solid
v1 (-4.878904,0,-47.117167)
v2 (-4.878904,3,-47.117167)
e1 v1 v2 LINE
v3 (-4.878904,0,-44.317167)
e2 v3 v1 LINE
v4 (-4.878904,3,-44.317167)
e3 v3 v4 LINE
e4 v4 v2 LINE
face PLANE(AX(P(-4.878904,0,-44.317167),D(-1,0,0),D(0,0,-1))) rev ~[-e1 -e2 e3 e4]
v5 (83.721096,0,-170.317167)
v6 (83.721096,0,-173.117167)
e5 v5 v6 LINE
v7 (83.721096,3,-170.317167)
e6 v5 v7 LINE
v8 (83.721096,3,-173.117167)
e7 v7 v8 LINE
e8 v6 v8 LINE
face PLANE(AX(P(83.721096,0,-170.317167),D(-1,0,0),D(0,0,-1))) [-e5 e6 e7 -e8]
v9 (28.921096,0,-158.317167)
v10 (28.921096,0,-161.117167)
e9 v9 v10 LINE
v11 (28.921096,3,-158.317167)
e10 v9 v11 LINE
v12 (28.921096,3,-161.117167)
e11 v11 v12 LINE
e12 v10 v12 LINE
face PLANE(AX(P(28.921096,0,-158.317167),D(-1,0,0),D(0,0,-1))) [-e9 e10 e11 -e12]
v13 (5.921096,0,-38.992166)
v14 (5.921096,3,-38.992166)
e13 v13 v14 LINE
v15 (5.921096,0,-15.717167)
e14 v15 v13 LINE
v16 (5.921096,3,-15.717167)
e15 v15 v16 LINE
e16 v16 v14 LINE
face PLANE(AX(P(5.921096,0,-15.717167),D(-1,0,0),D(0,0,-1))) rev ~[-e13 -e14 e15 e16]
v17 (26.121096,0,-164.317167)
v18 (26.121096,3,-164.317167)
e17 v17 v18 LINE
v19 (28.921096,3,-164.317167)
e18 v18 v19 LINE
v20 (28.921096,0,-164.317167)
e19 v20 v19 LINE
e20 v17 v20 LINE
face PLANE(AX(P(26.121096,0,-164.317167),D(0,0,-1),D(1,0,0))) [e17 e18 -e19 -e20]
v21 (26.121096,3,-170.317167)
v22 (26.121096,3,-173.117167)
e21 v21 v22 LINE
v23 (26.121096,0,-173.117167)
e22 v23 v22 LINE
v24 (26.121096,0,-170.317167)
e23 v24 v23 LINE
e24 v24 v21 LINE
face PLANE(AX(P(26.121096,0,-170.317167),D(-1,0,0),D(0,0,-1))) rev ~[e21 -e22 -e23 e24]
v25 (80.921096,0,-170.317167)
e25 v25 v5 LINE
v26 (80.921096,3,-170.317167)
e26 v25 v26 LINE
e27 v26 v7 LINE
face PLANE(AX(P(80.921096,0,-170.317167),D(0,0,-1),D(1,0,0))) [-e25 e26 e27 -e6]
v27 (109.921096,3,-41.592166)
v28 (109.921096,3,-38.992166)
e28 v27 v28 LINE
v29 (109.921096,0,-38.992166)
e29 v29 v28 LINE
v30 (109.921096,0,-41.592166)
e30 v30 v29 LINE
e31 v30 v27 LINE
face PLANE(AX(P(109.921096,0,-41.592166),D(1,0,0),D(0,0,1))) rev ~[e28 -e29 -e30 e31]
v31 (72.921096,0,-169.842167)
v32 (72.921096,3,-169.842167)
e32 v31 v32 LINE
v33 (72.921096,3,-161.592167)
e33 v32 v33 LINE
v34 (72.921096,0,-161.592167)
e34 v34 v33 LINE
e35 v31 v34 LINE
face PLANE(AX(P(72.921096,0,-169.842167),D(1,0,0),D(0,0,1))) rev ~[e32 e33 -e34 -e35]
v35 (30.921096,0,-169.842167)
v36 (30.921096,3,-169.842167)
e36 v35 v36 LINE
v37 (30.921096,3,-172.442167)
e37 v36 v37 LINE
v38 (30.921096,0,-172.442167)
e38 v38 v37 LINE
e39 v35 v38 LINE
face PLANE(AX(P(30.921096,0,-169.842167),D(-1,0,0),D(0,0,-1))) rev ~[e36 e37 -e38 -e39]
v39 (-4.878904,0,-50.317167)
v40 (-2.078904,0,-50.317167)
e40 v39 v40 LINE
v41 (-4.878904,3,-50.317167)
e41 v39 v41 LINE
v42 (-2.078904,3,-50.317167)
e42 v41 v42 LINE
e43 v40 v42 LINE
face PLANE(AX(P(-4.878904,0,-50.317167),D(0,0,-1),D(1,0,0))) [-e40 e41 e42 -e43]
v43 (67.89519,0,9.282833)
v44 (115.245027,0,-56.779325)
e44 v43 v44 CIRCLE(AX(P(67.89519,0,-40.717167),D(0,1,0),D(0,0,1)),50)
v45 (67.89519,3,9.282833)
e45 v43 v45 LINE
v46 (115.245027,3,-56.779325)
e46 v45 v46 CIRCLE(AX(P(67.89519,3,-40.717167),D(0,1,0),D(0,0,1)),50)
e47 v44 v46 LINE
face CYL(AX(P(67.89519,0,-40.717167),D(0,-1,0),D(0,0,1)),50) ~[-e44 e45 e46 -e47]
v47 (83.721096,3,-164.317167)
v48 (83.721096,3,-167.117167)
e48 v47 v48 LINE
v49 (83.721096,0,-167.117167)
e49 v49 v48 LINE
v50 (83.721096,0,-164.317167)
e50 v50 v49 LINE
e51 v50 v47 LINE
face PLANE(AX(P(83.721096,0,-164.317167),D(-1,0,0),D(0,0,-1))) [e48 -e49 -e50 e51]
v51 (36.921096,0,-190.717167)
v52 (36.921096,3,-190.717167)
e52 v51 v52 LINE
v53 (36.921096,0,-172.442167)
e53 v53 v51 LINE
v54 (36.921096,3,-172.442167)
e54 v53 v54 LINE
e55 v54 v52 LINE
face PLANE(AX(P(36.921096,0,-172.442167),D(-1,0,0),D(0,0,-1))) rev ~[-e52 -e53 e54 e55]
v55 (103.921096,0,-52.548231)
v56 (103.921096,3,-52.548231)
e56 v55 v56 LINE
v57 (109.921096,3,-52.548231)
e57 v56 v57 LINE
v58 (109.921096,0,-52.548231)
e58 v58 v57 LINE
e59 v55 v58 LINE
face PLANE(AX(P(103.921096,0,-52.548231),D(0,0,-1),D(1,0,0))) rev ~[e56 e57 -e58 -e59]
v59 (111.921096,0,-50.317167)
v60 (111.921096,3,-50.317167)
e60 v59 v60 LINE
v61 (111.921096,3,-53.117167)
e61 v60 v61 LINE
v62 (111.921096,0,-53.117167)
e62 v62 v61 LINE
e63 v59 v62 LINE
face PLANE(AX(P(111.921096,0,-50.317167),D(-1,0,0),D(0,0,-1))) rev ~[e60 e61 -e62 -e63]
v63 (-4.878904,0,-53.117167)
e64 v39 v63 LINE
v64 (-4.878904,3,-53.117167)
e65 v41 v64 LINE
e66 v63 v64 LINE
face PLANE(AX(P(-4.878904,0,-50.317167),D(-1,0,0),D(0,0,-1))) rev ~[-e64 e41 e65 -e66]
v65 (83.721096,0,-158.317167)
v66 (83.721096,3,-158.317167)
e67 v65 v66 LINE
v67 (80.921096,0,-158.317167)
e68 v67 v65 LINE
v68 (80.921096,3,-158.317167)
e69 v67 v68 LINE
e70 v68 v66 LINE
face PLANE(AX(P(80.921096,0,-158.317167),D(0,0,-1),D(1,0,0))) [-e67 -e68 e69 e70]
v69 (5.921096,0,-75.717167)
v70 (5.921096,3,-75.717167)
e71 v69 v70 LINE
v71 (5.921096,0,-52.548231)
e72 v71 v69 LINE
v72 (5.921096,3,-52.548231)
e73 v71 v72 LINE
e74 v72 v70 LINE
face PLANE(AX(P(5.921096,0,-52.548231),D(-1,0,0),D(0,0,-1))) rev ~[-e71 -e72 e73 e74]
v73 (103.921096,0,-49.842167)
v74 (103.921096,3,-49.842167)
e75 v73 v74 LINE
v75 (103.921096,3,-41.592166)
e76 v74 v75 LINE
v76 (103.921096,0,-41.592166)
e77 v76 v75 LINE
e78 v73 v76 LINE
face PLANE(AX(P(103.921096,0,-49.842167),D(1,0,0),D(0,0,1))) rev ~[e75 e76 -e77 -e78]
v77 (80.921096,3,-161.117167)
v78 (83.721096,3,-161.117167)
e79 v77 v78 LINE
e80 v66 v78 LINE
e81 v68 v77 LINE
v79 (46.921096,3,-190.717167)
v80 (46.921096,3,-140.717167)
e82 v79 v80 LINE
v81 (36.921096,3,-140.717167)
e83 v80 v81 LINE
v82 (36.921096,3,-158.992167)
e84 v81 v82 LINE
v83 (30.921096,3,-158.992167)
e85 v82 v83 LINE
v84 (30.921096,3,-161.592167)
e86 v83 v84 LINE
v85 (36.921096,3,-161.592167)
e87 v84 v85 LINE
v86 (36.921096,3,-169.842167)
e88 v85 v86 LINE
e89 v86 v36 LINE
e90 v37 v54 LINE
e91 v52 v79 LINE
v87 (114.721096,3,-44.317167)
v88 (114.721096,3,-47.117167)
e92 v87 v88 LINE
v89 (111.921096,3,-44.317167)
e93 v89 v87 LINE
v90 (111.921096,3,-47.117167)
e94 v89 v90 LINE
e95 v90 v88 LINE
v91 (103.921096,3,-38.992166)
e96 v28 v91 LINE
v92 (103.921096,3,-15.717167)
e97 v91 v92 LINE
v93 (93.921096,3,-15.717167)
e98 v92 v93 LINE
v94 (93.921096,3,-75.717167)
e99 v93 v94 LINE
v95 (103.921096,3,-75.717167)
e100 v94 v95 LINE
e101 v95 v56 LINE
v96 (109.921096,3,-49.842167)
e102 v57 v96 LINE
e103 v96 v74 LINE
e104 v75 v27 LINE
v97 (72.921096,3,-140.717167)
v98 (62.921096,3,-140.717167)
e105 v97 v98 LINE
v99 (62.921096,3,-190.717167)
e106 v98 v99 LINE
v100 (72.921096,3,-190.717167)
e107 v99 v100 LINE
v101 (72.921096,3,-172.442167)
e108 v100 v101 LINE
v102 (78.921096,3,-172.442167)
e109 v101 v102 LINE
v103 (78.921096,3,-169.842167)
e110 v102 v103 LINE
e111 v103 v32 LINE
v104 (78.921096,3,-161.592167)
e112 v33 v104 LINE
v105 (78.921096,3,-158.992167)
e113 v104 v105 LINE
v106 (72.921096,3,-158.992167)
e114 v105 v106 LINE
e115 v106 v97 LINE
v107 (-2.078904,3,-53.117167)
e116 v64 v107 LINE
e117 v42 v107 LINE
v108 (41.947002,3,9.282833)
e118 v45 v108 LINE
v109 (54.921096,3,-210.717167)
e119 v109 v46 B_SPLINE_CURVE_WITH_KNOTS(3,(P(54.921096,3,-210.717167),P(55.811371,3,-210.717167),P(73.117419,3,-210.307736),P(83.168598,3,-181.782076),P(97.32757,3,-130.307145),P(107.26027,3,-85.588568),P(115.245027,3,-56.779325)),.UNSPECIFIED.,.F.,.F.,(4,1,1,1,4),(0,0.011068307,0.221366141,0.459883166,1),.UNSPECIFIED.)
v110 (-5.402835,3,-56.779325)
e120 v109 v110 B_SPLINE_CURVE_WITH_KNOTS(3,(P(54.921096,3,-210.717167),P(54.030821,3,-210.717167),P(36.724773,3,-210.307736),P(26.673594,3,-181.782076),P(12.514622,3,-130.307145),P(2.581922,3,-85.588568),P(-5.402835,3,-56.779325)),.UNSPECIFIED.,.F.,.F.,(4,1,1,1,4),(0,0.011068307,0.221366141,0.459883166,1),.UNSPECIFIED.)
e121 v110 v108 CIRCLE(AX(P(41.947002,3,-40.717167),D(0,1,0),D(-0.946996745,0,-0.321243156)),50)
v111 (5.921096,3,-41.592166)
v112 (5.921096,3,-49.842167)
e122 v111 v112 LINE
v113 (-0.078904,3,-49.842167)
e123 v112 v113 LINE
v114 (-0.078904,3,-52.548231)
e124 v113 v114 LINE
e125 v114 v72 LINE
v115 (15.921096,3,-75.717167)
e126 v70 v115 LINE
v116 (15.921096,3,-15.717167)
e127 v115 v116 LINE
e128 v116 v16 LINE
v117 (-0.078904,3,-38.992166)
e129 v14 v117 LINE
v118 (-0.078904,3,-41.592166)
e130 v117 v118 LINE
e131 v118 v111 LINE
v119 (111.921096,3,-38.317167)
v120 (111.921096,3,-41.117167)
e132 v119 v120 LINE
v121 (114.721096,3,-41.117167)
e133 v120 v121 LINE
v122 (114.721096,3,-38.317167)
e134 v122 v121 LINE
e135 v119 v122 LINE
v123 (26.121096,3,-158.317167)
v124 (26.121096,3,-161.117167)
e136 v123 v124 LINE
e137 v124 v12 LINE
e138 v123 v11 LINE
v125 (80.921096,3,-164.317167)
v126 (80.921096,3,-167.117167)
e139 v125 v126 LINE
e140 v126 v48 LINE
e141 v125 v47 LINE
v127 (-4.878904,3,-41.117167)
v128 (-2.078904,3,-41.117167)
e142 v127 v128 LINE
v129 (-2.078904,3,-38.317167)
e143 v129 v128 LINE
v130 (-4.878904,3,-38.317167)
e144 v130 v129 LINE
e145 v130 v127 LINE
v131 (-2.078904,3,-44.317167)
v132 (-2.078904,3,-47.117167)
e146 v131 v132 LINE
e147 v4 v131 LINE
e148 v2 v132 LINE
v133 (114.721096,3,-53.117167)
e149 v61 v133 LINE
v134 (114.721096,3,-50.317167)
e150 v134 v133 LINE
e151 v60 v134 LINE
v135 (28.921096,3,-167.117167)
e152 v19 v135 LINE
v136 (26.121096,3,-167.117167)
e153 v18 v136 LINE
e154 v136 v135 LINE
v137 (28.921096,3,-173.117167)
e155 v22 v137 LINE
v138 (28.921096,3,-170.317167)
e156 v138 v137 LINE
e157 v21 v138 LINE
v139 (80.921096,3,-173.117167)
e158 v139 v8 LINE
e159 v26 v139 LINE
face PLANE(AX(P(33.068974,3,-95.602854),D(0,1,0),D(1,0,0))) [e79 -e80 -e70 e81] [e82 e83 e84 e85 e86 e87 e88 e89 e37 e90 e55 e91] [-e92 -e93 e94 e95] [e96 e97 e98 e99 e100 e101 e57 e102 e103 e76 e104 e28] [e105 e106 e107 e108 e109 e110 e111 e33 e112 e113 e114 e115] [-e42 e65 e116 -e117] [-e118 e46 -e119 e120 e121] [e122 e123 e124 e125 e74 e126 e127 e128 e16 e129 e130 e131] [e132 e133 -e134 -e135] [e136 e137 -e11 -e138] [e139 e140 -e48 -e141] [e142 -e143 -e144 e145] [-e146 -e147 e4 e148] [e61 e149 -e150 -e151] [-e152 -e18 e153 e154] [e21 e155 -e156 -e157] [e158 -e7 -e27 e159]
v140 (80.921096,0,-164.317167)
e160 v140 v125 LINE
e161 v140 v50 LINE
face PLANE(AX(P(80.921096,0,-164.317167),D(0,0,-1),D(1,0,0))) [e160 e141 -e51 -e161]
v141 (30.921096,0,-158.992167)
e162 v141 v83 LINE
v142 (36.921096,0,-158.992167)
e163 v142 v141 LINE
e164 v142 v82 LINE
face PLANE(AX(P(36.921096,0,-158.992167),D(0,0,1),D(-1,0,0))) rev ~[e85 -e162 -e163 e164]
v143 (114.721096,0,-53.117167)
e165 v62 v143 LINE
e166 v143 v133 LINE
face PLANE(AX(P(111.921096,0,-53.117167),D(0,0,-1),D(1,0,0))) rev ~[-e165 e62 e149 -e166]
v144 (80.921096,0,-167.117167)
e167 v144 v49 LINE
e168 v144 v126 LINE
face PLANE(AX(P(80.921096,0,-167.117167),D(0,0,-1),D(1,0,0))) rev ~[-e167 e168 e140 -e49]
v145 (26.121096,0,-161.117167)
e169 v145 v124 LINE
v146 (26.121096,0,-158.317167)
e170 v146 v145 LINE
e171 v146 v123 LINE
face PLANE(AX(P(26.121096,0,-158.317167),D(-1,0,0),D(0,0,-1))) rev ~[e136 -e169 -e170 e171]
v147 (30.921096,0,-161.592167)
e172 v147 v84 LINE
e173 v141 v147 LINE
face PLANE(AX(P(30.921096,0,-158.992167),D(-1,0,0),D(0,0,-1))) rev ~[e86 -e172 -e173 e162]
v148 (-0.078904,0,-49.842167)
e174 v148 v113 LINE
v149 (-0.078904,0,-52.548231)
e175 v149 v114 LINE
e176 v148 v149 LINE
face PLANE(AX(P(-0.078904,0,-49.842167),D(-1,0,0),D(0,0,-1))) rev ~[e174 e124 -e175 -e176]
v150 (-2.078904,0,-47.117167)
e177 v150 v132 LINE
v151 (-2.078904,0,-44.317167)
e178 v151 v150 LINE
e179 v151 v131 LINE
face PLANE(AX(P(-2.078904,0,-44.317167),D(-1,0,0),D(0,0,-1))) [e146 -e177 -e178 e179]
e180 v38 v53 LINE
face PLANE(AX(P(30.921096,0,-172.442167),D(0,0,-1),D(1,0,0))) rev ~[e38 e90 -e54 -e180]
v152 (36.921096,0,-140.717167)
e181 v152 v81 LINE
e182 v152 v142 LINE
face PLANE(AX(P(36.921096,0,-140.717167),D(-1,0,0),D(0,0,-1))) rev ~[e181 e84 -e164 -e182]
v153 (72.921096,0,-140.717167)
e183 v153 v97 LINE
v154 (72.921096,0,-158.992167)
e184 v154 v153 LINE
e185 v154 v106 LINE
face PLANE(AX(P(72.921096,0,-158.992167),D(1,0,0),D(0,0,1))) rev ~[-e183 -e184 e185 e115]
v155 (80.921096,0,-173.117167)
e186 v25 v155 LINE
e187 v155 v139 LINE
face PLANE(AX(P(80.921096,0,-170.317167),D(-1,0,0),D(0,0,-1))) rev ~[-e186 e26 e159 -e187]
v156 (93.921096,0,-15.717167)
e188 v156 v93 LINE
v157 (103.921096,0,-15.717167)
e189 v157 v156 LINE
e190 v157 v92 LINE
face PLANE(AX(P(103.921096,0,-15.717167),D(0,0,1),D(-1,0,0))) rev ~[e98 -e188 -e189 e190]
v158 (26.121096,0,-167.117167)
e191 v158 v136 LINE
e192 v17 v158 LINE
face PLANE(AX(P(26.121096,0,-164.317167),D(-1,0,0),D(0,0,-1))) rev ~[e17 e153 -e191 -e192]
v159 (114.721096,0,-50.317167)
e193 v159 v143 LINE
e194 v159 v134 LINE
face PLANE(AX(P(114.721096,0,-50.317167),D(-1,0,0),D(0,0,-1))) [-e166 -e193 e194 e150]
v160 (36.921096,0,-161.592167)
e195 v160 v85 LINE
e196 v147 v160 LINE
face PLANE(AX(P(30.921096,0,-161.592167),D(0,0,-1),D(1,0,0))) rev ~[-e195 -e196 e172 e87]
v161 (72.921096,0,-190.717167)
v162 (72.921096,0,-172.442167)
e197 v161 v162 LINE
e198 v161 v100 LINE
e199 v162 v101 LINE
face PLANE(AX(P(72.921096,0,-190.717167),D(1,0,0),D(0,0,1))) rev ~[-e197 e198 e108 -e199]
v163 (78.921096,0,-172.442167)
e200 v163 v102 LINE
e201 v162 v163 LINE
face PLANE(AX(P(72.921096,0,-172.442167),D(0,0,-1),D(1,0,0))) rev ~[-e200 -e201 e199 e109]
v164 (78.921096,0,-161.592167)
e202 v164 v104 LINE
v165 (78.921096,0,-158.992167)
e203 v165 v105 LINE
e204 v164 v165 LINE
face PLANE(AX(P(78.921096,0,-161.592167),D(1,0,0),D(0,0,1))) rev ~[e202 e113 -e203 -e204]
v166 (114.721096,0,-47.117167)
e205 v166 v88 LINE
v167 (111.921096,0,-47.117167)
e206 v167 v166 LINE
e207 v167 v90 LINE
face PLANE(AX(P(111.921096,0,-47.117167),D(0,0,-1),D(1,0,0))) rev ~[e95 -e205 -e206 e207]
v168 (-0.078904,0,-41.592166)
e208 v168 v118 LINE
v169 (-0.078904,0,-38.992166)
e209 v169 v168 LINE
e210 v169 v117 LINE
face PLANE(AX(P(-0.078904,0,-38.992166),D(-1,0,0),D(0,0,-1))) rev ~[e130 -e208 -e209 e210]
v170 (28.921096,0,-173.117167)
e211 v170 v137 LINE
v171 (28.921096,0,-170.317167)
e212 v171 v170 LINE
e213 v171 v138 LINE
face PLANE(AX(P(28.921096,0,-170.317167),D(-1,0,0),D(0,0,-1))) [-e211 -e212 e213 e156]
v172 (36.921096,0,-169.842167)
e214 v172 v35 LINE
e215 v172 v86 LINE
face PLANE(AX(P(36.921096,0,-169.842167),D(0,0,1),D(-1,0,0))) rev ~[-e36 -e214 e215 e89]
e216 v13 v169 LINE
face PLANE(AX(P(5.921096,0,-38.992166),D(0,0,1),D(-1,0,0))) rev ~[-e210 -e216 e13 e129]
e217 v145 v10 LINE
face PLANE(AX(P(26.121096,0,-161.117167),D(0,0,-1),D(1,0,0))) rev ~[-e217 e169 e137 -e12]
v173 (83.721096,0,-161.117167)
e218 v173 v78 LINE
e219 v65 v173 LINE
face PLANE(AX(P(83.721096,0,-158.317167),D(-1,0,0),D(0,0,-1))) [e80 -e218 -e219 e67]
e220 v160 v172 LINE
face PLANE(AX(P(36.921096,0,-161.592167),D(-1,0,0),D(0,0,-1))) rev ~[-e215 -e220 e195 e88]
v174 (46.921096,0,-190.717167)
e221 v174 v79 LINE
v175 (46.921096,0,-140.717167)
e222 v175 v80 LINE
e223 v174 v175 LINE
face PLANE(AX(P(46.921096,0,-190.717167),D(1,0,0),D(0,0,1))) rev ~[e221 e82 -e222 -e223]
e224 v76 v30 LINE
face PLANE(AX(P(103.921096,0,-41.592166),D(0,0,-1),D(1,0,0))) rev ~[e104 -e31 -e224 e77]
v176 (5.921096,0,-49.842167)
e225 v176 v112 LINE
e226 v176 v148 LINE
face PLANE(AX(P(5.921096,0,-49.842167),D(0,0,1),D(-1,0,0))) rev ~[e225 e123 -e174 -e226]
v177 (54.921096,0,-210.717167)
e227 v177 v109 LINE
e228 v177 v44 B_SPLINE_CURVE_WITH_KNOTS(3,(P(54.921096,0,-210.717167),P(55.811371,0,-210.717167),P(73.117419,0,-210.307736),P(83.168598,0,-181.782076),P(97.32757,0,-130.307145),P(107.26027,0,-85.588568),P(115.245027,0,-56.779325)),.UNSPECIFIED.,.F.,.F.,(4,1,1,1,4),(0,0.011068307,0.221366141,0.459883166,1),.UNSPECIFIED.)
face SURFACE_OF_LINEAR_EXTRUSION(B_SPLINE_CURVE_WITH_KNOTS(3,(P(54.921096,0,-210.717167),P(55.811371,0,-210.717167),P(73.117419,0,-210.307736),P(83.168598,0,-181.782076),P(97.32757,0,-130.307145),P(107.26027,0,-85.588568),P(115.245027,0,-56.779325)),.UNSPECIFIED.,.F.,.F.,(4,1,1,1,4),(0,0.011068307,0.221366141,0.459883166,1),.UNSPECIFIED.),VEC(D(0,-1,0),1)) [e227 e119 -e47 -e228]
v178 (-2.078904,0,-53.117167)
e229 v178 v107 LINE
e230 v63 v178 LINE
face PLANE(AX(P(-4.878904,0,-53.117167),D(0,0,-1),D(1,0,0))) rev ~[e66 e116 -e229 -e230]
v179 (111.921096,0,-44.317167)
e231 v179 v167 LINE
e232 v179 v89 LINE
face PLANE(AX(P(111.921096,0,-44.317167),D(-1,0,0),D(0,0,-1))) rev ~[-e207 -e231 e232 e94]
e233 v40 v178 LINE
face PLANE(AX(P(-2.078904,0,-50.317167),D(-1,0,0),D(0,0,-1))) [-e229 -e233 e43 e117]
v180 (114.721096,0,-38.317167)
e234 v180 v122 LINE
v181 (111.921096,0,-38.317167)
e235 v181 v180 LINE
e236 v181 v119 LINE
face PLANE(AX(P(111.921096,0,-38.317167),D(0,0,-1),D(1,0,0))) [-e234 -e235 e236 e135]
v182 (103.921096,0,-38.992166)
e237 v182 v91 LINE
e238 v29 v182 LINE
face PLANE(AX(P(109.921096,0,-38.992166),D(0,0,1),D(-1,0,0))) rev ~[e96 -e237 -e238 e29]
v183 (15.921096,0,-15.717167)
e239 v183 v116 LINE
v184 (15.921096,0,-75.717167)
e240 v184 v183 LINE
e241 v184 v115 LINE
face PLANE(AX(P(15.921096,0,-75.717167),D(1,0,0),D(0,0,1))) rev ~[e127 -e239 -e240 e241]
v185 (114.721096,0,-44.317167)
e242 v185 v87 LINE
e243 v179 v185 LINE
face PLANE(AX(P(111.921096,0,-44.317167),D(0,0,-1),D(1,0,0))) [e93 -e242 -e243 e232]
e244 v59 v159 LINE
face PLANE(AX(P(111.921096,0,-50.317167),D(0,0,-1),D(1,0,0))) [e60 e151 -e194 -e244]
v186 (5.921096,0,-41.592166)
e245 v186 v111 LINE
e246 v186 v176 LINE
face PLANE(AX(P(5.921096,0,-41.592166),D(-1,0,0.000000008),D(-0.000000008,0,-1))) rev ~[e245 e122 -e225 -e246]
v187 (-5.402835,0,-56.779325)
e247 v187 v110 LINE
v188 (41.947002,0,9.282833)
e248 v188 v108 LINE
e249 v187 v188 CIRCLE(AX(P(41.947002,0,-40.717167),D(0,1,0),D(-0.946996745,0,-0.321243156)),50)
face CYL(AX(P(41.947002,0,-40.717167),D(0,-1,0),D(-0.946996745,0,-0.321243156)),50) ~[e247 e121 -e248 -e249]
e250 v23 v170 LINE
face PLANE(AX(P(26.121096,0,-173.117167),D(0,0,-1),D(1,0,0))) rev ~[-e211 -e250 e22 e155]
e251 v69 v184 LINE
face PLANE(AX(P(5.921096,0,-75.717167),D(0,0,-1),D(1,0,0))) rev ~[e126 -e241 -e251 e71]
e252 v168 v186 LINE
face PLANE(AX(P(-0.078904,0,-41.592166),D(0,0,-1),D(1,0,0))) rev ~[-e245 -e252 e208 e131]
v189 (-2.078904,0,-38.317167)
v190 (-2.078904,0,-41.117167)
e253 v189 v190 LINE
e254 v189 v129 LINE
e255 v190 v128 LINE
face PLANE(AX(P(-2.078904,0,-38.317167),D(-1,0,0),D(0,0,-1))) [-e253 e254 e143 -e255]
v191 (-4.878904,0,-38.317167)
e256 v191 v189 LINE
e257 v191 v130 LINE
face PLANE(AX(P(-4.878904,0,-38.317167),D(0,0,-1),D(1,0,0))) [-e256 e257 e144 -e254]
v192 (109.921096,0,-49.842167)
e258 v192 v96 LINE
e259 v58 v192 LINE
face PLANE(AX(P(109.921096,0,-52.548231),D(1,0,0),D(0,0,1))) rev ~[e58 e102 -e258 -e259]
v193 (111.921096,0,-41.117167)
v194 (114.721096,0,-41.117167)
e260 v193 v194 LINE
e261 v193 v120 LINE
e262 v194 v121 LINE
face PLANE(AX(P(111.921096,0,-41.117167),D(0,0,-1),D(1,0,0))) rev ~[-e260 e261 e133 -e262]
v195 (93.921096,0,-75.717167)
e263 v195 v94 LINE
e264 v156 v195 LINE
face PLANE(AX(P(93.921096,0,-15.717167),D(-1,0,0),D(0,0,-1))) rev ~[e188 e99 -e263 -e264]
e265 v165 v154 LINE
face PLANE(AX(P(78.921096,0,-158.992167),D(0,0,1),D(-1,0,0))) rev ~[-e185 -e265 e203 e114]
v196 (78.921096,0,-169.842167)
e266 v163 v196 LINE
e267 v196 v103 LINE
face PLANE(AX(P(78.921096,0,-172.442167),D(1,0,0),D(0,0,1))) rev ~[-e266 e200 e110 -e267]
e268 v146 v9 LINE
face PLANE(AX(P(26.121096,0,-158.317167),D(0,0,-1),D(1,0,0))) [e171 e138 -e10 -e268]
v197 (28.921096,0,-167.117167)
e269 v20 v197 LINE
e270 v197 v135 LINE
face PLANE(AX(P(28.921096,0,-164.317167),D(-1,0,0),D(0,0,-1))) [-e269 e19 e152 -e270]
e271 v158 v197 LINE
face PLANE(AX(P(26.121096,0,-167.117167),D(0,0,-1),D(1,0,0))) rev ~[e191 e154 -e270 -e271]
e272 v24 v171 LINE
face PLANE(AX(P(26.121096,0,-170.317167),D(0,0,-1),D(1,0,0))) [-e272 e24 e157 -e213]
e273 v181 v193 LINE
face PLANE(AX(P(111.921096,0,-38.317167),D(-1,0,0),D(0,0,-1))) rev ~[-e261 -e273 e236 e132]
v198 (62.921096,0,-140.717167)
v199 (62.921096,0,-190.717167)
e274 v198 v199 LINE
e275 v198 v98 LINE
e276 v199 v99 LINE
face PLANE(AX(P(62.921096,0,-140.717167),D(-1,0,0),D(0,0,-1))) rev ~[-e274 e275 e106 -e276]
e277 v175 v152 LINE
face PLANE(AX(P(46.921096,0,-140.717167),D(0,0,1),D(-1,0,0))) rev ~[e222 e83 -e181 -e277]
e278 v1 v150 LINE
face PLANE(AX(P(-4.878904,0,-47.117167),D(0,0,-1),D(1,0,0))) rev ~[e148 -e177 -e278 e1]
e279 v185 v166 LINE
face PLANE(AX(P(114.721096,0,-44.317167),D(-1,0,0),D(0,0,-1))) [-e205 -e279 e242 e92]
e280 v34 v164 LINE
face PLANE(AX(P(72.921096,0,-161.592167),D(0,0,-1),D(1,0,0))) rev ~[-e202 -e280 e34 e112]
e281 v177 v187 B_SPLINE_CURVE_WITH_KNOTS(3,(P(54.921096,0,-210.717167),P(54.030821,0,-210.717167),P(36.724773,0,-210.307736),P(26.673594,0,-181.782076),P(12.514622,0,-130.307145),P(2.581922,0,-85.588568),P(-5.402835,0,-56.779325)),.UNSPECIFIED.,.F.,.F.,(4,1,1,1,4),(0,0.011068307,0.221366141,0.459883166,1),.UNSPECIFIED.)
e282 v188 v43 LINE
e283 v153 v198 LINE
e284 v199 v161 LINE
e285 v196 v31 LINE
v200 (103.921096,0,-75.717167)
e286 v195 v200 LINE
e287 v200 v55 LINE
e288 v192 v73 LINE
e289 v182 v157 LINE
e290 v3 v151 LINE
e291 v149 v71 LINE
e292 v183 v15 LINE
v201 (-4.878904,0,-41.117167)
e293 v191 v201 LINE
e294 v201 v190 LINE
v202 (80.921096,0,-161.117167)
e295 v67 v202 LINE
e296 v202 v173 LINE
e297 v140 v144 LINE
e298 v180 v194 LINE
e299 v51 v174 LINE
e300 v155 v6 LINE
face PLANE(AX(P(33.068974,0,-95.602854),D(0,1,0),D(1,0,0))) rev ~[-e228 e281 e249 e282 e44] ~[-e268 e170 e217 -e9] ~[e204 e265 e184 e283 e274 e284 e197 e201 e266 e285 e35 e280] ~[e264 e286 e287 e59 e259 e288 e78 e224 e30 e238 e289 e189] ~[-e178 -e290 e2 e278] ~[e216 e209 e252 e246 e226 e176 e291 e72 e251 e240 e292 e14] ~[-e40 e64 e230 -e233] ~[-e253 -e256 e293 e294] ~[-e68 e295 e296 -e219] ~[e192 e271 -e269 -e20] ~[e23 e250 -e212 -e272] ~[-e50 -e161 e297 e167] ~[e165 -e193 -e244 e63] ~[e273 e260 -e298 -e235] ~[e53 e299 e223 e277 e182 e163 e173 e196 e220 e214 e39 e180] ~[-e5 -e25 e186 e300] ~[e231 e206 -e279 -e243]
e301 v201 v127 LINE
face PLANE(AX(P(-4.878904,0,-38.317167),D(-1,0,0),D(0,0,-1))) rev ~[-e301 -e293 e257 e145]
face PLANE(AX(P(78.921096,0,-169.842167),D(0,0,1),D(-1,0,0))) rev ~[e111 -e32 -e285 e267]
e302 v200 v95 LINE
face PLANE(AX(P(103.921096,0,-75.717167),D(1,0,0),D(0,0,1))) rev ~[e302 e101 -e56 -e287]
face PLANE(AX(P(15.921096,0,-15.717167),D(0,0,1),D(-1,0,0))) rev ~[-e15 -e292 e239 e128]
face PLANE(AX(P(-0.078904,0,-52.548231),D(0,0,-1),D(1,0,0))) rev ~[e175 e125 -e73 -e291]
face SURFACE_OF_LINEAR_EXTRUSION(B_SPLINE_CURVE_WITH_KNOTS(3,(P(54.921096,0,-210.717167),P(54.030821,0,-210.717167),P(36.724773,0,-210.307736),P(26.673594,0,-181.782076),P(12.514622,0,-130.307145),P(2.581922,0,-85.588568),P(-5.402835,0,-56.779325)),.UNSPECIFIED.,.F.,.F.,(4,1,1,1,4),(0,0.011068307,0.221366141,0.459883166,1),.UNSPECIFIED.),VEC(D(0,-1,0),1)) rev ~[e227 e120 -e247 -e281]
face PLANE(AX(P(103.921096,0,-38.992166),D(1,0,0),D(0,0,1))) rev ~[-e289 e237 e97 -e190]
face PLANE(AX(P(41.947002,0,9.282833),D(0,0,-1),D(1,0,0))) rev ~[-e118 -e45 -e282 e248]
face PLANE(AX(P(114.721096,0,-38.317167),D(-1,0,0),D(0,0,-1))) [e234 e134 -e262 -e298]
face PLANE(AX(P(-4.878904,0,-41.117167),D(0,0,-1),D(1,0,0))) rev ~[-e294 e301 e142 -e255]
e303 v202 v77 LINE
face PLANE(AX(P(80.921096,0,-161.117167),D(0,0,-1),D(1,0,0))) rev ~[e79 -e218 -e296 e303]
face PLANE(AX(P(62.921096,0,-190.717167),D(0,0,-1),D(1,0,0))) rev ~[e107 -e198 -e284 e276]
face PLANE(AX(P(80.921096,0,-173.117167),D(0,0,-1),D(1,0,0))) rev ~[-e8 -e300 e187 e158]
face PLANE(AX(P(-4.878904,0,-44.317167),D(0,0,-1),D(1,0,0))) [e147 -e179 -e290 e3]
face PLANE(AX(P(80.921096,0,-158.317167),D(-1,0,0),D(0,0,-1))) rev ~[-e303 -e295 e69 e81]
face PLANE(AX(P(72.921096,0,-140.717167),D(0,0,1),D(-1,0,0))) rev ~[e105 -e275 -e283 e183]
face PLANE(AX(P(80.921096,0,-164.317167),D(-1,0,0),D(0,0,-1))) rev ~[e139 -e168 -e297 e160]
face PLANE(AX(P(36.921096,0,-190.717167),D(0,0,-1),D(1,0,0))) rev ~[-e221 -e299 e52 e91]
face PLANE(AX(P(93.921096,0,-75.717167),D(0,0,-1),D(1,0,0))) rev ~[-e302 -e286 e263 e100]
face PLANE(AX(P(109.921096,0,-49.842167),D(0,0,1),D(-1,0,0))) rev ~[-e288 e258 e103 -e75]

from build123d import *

# Parameters (mm, degrees)
SKETCH1_W           = 2.8
SKETCH1_H           = 2.8
BOSS_EXTRUDE1_DEPTH = 3


with BuildPart() as part:
    # Sketch1 → Boss-Extrude1 (new body)
    # profile 1 of 2: a face of its own
    with BuildSketch(Plane(origin=(0, 0, 0), x_dir=(1, 0, 0), z_dir=(0, 1, 0))):
        with BuildLine():
            add(Edge.make_bspline(
                [(54.921096065, 210.717166967), (55.81137077, 210.717166967), (73.117418641, 210.307735596), (83.168598293, 181.782075712), (97.327570014, 130.307145356), (107.26026966, 85.588568253), (115.245027256, 56.779324779)],
                knots=[0, 0, 0, 0, 0.011068307, 0.221366141, 0.459883166, 1, 1, 1, 1], degree=3))
            Line((54.921096065, 210.717166967), (54.921096065, -9.282833033))
            Line((54.921096065, -9.282833033), (64.921096065, -9.282833033))
            Line((64.921096065, -9.282833033), (67.895190019, -9.282833033))
            ThreePointArc((67.895190019, -9.282833033), (108.534505285, 11.589069626), (115.245027256, 56.779324779))
        make_face()
        with Locations((113.321095998, 39.717166967)):
            Rectangle(SKETCH1_W, SKETCH1_H, mode=Mode.SUBTRACT)
        Polygon((103.921096065, 38.99216559), (103.921096065, 15.717166967), (93.921096065, 15.717166967), (93.921096065, 75.717166967), (103.921096065, 75.717166967), (103.921096065, 52.548230604), (109.921096065, 52.548230604), (109.921096065, 49.842166967), (103.921096065, 49.842166967), (103.921096065, 41.59216559), (109.921095998, 41.59216559), (109.921095998, 38.99216559), align=None, mode=Mode.SUBTRACT)
        with Locations((113.321096065, 45.717166967)):
            Rectangle(SKETCH1_W, SKETCH1_H, mode=Mode.SUBTRACT)
        with Locations((113.321096065, 51.717166967)):
            Rectangle(SKETCH1_W, SKETCH1_H, mode=Mode.SUBTRACT)
        Polygon((72.921096065, 158.992166967), (72.921096065, 140.717166967), (62.921096065, 140.717166967), (62.921096065, 190.717166967), (72.921096065, 190.717166967), (72.921096065, 172.442166967), (78.921096065, 172.442166967), (78.921096065, 169.842166967), (72.921096065, 169.842166967), (72.921096065, 161.592166967), (78.921096065, 161.592166967), (78.921096065, 158.992166967), align=None, mode=Mode.SUBTRACT)
        with Locations((82.321096065, 159.717166967)):
            Rectangle(SKETCH1_W, SKETCH1_H, mode=Mode.SUBTRACT)
        with Locations((82.321096065, 165.717166967)):
            Rectangle(SKETCH1_W, SKETCH1_H, mode=Mode.SUBTRACT)
        with Locations((82.321096065, 171.717166967)):
            Rectangle(SKETCH1_W, SKETCH1_H, mode=Mode.SUBTRACT)
    # profile 2 of 2: a face of its own
    with BuildSketch(Plane(origin=(0, 0, 0), x_dir=(1, 0, 0), z_dir=(0, 1, 0))):
        with BuildLine():
            Line((54.921096065, -9.282833033), (54.921096065, 210.717166967))
            add(Edge.make_bspline(
                [(54.921096065, 210.717166967), (54.030821359, 210.717166967), (36.724773488, 210.307735596), (26.673593836, 181.782075712), (12.514622115, 130.307145356), (2.58192247, 85.588568253), (-5.402835127, 56.779324779)],
                knots=[0, 0, 0, 0, 0.011068307, 0.221366141, 0.459883166, 1, 1, 1, 1], degree=3))
            ThreePointArc((-5.402835127, 56.779324779), (1.307686844, 11.589069626), (41.94700211, -9.282833033))
            Line((41.94700211, -9.282833033), (44.921096065, -9.282833033))
            Line((44.921096065, -9.282833033), (54.921096065, -9.282833033))
        make_face()
        with Locations((-3.478903869, 39.717166967)):
            Rectangle(SKETCH1_W, SKETCH1_H, mode=Mode.SUBTRACT)
        with Locations((-3.478903935, 45.717166967)):
            Rectangle(SKETCH1_W, SKETCH1_H, mode=Mode.SUBTRACT)
        with Locations((-3.478903935, 51.717166967)):
            Rectangle(SKETCH1_W, SKETCH1_H, mode=Mode.SUBTRACT)
        Polygon((5.921096065, 52.548230604), (5.921096065, 75.717166967), (15.921096065, 75.717166967), (15.921096065, 15.717166967), (5.921096065, 15.717166967), (5.921096065, 38.99216559), (-0.078903869, 38.99216559), (-0.078903869, 41.59216559), (5.921096131, 41.59216559), (5.921096065, 49.842166967), (-0.078903935, 49.842166967), (-0.078903935, 52.548230604), align=None, mode=Mode.SUBTRACT)
        with Locations((27.521096065, 159.717166967)):
            Rectangle(SKETCH1_W, SKETCH1_H, mode=Mode.SUBTRACT)
        with Locations((27.521096065, 165.717166967)):
            Rectangle(SKETCH1_W, SKETCH1_H, mode=Mode.SUBTRACT)
        Polygon((36.921096065, 172.442166967), (36.921096065, 190.717166967), (46.921096065, 190.717166967), (46.921096065, 140.717166967), (36.921096065, 140.717166967), (36.921096065, 158.992166967), (30.921096065, 158.992166967), (30.921096065, 161.592166967), (36.921096065, 161.592166967), (36.921096065, 169.842166967), (30.921096065, 169.842166967), (30.921096065, 172.442166967), align=None, mode=Mode.SUBTRACT)
        with Locations((27.521096065, 171.717166967)):
            Rectangle(SKETCH1_W, SKETCH1_H, mode=Mode.SUBTRACT)
    extrude(amount=BOSS_EXTRUDE1_DEPTH)


solid = part.part
